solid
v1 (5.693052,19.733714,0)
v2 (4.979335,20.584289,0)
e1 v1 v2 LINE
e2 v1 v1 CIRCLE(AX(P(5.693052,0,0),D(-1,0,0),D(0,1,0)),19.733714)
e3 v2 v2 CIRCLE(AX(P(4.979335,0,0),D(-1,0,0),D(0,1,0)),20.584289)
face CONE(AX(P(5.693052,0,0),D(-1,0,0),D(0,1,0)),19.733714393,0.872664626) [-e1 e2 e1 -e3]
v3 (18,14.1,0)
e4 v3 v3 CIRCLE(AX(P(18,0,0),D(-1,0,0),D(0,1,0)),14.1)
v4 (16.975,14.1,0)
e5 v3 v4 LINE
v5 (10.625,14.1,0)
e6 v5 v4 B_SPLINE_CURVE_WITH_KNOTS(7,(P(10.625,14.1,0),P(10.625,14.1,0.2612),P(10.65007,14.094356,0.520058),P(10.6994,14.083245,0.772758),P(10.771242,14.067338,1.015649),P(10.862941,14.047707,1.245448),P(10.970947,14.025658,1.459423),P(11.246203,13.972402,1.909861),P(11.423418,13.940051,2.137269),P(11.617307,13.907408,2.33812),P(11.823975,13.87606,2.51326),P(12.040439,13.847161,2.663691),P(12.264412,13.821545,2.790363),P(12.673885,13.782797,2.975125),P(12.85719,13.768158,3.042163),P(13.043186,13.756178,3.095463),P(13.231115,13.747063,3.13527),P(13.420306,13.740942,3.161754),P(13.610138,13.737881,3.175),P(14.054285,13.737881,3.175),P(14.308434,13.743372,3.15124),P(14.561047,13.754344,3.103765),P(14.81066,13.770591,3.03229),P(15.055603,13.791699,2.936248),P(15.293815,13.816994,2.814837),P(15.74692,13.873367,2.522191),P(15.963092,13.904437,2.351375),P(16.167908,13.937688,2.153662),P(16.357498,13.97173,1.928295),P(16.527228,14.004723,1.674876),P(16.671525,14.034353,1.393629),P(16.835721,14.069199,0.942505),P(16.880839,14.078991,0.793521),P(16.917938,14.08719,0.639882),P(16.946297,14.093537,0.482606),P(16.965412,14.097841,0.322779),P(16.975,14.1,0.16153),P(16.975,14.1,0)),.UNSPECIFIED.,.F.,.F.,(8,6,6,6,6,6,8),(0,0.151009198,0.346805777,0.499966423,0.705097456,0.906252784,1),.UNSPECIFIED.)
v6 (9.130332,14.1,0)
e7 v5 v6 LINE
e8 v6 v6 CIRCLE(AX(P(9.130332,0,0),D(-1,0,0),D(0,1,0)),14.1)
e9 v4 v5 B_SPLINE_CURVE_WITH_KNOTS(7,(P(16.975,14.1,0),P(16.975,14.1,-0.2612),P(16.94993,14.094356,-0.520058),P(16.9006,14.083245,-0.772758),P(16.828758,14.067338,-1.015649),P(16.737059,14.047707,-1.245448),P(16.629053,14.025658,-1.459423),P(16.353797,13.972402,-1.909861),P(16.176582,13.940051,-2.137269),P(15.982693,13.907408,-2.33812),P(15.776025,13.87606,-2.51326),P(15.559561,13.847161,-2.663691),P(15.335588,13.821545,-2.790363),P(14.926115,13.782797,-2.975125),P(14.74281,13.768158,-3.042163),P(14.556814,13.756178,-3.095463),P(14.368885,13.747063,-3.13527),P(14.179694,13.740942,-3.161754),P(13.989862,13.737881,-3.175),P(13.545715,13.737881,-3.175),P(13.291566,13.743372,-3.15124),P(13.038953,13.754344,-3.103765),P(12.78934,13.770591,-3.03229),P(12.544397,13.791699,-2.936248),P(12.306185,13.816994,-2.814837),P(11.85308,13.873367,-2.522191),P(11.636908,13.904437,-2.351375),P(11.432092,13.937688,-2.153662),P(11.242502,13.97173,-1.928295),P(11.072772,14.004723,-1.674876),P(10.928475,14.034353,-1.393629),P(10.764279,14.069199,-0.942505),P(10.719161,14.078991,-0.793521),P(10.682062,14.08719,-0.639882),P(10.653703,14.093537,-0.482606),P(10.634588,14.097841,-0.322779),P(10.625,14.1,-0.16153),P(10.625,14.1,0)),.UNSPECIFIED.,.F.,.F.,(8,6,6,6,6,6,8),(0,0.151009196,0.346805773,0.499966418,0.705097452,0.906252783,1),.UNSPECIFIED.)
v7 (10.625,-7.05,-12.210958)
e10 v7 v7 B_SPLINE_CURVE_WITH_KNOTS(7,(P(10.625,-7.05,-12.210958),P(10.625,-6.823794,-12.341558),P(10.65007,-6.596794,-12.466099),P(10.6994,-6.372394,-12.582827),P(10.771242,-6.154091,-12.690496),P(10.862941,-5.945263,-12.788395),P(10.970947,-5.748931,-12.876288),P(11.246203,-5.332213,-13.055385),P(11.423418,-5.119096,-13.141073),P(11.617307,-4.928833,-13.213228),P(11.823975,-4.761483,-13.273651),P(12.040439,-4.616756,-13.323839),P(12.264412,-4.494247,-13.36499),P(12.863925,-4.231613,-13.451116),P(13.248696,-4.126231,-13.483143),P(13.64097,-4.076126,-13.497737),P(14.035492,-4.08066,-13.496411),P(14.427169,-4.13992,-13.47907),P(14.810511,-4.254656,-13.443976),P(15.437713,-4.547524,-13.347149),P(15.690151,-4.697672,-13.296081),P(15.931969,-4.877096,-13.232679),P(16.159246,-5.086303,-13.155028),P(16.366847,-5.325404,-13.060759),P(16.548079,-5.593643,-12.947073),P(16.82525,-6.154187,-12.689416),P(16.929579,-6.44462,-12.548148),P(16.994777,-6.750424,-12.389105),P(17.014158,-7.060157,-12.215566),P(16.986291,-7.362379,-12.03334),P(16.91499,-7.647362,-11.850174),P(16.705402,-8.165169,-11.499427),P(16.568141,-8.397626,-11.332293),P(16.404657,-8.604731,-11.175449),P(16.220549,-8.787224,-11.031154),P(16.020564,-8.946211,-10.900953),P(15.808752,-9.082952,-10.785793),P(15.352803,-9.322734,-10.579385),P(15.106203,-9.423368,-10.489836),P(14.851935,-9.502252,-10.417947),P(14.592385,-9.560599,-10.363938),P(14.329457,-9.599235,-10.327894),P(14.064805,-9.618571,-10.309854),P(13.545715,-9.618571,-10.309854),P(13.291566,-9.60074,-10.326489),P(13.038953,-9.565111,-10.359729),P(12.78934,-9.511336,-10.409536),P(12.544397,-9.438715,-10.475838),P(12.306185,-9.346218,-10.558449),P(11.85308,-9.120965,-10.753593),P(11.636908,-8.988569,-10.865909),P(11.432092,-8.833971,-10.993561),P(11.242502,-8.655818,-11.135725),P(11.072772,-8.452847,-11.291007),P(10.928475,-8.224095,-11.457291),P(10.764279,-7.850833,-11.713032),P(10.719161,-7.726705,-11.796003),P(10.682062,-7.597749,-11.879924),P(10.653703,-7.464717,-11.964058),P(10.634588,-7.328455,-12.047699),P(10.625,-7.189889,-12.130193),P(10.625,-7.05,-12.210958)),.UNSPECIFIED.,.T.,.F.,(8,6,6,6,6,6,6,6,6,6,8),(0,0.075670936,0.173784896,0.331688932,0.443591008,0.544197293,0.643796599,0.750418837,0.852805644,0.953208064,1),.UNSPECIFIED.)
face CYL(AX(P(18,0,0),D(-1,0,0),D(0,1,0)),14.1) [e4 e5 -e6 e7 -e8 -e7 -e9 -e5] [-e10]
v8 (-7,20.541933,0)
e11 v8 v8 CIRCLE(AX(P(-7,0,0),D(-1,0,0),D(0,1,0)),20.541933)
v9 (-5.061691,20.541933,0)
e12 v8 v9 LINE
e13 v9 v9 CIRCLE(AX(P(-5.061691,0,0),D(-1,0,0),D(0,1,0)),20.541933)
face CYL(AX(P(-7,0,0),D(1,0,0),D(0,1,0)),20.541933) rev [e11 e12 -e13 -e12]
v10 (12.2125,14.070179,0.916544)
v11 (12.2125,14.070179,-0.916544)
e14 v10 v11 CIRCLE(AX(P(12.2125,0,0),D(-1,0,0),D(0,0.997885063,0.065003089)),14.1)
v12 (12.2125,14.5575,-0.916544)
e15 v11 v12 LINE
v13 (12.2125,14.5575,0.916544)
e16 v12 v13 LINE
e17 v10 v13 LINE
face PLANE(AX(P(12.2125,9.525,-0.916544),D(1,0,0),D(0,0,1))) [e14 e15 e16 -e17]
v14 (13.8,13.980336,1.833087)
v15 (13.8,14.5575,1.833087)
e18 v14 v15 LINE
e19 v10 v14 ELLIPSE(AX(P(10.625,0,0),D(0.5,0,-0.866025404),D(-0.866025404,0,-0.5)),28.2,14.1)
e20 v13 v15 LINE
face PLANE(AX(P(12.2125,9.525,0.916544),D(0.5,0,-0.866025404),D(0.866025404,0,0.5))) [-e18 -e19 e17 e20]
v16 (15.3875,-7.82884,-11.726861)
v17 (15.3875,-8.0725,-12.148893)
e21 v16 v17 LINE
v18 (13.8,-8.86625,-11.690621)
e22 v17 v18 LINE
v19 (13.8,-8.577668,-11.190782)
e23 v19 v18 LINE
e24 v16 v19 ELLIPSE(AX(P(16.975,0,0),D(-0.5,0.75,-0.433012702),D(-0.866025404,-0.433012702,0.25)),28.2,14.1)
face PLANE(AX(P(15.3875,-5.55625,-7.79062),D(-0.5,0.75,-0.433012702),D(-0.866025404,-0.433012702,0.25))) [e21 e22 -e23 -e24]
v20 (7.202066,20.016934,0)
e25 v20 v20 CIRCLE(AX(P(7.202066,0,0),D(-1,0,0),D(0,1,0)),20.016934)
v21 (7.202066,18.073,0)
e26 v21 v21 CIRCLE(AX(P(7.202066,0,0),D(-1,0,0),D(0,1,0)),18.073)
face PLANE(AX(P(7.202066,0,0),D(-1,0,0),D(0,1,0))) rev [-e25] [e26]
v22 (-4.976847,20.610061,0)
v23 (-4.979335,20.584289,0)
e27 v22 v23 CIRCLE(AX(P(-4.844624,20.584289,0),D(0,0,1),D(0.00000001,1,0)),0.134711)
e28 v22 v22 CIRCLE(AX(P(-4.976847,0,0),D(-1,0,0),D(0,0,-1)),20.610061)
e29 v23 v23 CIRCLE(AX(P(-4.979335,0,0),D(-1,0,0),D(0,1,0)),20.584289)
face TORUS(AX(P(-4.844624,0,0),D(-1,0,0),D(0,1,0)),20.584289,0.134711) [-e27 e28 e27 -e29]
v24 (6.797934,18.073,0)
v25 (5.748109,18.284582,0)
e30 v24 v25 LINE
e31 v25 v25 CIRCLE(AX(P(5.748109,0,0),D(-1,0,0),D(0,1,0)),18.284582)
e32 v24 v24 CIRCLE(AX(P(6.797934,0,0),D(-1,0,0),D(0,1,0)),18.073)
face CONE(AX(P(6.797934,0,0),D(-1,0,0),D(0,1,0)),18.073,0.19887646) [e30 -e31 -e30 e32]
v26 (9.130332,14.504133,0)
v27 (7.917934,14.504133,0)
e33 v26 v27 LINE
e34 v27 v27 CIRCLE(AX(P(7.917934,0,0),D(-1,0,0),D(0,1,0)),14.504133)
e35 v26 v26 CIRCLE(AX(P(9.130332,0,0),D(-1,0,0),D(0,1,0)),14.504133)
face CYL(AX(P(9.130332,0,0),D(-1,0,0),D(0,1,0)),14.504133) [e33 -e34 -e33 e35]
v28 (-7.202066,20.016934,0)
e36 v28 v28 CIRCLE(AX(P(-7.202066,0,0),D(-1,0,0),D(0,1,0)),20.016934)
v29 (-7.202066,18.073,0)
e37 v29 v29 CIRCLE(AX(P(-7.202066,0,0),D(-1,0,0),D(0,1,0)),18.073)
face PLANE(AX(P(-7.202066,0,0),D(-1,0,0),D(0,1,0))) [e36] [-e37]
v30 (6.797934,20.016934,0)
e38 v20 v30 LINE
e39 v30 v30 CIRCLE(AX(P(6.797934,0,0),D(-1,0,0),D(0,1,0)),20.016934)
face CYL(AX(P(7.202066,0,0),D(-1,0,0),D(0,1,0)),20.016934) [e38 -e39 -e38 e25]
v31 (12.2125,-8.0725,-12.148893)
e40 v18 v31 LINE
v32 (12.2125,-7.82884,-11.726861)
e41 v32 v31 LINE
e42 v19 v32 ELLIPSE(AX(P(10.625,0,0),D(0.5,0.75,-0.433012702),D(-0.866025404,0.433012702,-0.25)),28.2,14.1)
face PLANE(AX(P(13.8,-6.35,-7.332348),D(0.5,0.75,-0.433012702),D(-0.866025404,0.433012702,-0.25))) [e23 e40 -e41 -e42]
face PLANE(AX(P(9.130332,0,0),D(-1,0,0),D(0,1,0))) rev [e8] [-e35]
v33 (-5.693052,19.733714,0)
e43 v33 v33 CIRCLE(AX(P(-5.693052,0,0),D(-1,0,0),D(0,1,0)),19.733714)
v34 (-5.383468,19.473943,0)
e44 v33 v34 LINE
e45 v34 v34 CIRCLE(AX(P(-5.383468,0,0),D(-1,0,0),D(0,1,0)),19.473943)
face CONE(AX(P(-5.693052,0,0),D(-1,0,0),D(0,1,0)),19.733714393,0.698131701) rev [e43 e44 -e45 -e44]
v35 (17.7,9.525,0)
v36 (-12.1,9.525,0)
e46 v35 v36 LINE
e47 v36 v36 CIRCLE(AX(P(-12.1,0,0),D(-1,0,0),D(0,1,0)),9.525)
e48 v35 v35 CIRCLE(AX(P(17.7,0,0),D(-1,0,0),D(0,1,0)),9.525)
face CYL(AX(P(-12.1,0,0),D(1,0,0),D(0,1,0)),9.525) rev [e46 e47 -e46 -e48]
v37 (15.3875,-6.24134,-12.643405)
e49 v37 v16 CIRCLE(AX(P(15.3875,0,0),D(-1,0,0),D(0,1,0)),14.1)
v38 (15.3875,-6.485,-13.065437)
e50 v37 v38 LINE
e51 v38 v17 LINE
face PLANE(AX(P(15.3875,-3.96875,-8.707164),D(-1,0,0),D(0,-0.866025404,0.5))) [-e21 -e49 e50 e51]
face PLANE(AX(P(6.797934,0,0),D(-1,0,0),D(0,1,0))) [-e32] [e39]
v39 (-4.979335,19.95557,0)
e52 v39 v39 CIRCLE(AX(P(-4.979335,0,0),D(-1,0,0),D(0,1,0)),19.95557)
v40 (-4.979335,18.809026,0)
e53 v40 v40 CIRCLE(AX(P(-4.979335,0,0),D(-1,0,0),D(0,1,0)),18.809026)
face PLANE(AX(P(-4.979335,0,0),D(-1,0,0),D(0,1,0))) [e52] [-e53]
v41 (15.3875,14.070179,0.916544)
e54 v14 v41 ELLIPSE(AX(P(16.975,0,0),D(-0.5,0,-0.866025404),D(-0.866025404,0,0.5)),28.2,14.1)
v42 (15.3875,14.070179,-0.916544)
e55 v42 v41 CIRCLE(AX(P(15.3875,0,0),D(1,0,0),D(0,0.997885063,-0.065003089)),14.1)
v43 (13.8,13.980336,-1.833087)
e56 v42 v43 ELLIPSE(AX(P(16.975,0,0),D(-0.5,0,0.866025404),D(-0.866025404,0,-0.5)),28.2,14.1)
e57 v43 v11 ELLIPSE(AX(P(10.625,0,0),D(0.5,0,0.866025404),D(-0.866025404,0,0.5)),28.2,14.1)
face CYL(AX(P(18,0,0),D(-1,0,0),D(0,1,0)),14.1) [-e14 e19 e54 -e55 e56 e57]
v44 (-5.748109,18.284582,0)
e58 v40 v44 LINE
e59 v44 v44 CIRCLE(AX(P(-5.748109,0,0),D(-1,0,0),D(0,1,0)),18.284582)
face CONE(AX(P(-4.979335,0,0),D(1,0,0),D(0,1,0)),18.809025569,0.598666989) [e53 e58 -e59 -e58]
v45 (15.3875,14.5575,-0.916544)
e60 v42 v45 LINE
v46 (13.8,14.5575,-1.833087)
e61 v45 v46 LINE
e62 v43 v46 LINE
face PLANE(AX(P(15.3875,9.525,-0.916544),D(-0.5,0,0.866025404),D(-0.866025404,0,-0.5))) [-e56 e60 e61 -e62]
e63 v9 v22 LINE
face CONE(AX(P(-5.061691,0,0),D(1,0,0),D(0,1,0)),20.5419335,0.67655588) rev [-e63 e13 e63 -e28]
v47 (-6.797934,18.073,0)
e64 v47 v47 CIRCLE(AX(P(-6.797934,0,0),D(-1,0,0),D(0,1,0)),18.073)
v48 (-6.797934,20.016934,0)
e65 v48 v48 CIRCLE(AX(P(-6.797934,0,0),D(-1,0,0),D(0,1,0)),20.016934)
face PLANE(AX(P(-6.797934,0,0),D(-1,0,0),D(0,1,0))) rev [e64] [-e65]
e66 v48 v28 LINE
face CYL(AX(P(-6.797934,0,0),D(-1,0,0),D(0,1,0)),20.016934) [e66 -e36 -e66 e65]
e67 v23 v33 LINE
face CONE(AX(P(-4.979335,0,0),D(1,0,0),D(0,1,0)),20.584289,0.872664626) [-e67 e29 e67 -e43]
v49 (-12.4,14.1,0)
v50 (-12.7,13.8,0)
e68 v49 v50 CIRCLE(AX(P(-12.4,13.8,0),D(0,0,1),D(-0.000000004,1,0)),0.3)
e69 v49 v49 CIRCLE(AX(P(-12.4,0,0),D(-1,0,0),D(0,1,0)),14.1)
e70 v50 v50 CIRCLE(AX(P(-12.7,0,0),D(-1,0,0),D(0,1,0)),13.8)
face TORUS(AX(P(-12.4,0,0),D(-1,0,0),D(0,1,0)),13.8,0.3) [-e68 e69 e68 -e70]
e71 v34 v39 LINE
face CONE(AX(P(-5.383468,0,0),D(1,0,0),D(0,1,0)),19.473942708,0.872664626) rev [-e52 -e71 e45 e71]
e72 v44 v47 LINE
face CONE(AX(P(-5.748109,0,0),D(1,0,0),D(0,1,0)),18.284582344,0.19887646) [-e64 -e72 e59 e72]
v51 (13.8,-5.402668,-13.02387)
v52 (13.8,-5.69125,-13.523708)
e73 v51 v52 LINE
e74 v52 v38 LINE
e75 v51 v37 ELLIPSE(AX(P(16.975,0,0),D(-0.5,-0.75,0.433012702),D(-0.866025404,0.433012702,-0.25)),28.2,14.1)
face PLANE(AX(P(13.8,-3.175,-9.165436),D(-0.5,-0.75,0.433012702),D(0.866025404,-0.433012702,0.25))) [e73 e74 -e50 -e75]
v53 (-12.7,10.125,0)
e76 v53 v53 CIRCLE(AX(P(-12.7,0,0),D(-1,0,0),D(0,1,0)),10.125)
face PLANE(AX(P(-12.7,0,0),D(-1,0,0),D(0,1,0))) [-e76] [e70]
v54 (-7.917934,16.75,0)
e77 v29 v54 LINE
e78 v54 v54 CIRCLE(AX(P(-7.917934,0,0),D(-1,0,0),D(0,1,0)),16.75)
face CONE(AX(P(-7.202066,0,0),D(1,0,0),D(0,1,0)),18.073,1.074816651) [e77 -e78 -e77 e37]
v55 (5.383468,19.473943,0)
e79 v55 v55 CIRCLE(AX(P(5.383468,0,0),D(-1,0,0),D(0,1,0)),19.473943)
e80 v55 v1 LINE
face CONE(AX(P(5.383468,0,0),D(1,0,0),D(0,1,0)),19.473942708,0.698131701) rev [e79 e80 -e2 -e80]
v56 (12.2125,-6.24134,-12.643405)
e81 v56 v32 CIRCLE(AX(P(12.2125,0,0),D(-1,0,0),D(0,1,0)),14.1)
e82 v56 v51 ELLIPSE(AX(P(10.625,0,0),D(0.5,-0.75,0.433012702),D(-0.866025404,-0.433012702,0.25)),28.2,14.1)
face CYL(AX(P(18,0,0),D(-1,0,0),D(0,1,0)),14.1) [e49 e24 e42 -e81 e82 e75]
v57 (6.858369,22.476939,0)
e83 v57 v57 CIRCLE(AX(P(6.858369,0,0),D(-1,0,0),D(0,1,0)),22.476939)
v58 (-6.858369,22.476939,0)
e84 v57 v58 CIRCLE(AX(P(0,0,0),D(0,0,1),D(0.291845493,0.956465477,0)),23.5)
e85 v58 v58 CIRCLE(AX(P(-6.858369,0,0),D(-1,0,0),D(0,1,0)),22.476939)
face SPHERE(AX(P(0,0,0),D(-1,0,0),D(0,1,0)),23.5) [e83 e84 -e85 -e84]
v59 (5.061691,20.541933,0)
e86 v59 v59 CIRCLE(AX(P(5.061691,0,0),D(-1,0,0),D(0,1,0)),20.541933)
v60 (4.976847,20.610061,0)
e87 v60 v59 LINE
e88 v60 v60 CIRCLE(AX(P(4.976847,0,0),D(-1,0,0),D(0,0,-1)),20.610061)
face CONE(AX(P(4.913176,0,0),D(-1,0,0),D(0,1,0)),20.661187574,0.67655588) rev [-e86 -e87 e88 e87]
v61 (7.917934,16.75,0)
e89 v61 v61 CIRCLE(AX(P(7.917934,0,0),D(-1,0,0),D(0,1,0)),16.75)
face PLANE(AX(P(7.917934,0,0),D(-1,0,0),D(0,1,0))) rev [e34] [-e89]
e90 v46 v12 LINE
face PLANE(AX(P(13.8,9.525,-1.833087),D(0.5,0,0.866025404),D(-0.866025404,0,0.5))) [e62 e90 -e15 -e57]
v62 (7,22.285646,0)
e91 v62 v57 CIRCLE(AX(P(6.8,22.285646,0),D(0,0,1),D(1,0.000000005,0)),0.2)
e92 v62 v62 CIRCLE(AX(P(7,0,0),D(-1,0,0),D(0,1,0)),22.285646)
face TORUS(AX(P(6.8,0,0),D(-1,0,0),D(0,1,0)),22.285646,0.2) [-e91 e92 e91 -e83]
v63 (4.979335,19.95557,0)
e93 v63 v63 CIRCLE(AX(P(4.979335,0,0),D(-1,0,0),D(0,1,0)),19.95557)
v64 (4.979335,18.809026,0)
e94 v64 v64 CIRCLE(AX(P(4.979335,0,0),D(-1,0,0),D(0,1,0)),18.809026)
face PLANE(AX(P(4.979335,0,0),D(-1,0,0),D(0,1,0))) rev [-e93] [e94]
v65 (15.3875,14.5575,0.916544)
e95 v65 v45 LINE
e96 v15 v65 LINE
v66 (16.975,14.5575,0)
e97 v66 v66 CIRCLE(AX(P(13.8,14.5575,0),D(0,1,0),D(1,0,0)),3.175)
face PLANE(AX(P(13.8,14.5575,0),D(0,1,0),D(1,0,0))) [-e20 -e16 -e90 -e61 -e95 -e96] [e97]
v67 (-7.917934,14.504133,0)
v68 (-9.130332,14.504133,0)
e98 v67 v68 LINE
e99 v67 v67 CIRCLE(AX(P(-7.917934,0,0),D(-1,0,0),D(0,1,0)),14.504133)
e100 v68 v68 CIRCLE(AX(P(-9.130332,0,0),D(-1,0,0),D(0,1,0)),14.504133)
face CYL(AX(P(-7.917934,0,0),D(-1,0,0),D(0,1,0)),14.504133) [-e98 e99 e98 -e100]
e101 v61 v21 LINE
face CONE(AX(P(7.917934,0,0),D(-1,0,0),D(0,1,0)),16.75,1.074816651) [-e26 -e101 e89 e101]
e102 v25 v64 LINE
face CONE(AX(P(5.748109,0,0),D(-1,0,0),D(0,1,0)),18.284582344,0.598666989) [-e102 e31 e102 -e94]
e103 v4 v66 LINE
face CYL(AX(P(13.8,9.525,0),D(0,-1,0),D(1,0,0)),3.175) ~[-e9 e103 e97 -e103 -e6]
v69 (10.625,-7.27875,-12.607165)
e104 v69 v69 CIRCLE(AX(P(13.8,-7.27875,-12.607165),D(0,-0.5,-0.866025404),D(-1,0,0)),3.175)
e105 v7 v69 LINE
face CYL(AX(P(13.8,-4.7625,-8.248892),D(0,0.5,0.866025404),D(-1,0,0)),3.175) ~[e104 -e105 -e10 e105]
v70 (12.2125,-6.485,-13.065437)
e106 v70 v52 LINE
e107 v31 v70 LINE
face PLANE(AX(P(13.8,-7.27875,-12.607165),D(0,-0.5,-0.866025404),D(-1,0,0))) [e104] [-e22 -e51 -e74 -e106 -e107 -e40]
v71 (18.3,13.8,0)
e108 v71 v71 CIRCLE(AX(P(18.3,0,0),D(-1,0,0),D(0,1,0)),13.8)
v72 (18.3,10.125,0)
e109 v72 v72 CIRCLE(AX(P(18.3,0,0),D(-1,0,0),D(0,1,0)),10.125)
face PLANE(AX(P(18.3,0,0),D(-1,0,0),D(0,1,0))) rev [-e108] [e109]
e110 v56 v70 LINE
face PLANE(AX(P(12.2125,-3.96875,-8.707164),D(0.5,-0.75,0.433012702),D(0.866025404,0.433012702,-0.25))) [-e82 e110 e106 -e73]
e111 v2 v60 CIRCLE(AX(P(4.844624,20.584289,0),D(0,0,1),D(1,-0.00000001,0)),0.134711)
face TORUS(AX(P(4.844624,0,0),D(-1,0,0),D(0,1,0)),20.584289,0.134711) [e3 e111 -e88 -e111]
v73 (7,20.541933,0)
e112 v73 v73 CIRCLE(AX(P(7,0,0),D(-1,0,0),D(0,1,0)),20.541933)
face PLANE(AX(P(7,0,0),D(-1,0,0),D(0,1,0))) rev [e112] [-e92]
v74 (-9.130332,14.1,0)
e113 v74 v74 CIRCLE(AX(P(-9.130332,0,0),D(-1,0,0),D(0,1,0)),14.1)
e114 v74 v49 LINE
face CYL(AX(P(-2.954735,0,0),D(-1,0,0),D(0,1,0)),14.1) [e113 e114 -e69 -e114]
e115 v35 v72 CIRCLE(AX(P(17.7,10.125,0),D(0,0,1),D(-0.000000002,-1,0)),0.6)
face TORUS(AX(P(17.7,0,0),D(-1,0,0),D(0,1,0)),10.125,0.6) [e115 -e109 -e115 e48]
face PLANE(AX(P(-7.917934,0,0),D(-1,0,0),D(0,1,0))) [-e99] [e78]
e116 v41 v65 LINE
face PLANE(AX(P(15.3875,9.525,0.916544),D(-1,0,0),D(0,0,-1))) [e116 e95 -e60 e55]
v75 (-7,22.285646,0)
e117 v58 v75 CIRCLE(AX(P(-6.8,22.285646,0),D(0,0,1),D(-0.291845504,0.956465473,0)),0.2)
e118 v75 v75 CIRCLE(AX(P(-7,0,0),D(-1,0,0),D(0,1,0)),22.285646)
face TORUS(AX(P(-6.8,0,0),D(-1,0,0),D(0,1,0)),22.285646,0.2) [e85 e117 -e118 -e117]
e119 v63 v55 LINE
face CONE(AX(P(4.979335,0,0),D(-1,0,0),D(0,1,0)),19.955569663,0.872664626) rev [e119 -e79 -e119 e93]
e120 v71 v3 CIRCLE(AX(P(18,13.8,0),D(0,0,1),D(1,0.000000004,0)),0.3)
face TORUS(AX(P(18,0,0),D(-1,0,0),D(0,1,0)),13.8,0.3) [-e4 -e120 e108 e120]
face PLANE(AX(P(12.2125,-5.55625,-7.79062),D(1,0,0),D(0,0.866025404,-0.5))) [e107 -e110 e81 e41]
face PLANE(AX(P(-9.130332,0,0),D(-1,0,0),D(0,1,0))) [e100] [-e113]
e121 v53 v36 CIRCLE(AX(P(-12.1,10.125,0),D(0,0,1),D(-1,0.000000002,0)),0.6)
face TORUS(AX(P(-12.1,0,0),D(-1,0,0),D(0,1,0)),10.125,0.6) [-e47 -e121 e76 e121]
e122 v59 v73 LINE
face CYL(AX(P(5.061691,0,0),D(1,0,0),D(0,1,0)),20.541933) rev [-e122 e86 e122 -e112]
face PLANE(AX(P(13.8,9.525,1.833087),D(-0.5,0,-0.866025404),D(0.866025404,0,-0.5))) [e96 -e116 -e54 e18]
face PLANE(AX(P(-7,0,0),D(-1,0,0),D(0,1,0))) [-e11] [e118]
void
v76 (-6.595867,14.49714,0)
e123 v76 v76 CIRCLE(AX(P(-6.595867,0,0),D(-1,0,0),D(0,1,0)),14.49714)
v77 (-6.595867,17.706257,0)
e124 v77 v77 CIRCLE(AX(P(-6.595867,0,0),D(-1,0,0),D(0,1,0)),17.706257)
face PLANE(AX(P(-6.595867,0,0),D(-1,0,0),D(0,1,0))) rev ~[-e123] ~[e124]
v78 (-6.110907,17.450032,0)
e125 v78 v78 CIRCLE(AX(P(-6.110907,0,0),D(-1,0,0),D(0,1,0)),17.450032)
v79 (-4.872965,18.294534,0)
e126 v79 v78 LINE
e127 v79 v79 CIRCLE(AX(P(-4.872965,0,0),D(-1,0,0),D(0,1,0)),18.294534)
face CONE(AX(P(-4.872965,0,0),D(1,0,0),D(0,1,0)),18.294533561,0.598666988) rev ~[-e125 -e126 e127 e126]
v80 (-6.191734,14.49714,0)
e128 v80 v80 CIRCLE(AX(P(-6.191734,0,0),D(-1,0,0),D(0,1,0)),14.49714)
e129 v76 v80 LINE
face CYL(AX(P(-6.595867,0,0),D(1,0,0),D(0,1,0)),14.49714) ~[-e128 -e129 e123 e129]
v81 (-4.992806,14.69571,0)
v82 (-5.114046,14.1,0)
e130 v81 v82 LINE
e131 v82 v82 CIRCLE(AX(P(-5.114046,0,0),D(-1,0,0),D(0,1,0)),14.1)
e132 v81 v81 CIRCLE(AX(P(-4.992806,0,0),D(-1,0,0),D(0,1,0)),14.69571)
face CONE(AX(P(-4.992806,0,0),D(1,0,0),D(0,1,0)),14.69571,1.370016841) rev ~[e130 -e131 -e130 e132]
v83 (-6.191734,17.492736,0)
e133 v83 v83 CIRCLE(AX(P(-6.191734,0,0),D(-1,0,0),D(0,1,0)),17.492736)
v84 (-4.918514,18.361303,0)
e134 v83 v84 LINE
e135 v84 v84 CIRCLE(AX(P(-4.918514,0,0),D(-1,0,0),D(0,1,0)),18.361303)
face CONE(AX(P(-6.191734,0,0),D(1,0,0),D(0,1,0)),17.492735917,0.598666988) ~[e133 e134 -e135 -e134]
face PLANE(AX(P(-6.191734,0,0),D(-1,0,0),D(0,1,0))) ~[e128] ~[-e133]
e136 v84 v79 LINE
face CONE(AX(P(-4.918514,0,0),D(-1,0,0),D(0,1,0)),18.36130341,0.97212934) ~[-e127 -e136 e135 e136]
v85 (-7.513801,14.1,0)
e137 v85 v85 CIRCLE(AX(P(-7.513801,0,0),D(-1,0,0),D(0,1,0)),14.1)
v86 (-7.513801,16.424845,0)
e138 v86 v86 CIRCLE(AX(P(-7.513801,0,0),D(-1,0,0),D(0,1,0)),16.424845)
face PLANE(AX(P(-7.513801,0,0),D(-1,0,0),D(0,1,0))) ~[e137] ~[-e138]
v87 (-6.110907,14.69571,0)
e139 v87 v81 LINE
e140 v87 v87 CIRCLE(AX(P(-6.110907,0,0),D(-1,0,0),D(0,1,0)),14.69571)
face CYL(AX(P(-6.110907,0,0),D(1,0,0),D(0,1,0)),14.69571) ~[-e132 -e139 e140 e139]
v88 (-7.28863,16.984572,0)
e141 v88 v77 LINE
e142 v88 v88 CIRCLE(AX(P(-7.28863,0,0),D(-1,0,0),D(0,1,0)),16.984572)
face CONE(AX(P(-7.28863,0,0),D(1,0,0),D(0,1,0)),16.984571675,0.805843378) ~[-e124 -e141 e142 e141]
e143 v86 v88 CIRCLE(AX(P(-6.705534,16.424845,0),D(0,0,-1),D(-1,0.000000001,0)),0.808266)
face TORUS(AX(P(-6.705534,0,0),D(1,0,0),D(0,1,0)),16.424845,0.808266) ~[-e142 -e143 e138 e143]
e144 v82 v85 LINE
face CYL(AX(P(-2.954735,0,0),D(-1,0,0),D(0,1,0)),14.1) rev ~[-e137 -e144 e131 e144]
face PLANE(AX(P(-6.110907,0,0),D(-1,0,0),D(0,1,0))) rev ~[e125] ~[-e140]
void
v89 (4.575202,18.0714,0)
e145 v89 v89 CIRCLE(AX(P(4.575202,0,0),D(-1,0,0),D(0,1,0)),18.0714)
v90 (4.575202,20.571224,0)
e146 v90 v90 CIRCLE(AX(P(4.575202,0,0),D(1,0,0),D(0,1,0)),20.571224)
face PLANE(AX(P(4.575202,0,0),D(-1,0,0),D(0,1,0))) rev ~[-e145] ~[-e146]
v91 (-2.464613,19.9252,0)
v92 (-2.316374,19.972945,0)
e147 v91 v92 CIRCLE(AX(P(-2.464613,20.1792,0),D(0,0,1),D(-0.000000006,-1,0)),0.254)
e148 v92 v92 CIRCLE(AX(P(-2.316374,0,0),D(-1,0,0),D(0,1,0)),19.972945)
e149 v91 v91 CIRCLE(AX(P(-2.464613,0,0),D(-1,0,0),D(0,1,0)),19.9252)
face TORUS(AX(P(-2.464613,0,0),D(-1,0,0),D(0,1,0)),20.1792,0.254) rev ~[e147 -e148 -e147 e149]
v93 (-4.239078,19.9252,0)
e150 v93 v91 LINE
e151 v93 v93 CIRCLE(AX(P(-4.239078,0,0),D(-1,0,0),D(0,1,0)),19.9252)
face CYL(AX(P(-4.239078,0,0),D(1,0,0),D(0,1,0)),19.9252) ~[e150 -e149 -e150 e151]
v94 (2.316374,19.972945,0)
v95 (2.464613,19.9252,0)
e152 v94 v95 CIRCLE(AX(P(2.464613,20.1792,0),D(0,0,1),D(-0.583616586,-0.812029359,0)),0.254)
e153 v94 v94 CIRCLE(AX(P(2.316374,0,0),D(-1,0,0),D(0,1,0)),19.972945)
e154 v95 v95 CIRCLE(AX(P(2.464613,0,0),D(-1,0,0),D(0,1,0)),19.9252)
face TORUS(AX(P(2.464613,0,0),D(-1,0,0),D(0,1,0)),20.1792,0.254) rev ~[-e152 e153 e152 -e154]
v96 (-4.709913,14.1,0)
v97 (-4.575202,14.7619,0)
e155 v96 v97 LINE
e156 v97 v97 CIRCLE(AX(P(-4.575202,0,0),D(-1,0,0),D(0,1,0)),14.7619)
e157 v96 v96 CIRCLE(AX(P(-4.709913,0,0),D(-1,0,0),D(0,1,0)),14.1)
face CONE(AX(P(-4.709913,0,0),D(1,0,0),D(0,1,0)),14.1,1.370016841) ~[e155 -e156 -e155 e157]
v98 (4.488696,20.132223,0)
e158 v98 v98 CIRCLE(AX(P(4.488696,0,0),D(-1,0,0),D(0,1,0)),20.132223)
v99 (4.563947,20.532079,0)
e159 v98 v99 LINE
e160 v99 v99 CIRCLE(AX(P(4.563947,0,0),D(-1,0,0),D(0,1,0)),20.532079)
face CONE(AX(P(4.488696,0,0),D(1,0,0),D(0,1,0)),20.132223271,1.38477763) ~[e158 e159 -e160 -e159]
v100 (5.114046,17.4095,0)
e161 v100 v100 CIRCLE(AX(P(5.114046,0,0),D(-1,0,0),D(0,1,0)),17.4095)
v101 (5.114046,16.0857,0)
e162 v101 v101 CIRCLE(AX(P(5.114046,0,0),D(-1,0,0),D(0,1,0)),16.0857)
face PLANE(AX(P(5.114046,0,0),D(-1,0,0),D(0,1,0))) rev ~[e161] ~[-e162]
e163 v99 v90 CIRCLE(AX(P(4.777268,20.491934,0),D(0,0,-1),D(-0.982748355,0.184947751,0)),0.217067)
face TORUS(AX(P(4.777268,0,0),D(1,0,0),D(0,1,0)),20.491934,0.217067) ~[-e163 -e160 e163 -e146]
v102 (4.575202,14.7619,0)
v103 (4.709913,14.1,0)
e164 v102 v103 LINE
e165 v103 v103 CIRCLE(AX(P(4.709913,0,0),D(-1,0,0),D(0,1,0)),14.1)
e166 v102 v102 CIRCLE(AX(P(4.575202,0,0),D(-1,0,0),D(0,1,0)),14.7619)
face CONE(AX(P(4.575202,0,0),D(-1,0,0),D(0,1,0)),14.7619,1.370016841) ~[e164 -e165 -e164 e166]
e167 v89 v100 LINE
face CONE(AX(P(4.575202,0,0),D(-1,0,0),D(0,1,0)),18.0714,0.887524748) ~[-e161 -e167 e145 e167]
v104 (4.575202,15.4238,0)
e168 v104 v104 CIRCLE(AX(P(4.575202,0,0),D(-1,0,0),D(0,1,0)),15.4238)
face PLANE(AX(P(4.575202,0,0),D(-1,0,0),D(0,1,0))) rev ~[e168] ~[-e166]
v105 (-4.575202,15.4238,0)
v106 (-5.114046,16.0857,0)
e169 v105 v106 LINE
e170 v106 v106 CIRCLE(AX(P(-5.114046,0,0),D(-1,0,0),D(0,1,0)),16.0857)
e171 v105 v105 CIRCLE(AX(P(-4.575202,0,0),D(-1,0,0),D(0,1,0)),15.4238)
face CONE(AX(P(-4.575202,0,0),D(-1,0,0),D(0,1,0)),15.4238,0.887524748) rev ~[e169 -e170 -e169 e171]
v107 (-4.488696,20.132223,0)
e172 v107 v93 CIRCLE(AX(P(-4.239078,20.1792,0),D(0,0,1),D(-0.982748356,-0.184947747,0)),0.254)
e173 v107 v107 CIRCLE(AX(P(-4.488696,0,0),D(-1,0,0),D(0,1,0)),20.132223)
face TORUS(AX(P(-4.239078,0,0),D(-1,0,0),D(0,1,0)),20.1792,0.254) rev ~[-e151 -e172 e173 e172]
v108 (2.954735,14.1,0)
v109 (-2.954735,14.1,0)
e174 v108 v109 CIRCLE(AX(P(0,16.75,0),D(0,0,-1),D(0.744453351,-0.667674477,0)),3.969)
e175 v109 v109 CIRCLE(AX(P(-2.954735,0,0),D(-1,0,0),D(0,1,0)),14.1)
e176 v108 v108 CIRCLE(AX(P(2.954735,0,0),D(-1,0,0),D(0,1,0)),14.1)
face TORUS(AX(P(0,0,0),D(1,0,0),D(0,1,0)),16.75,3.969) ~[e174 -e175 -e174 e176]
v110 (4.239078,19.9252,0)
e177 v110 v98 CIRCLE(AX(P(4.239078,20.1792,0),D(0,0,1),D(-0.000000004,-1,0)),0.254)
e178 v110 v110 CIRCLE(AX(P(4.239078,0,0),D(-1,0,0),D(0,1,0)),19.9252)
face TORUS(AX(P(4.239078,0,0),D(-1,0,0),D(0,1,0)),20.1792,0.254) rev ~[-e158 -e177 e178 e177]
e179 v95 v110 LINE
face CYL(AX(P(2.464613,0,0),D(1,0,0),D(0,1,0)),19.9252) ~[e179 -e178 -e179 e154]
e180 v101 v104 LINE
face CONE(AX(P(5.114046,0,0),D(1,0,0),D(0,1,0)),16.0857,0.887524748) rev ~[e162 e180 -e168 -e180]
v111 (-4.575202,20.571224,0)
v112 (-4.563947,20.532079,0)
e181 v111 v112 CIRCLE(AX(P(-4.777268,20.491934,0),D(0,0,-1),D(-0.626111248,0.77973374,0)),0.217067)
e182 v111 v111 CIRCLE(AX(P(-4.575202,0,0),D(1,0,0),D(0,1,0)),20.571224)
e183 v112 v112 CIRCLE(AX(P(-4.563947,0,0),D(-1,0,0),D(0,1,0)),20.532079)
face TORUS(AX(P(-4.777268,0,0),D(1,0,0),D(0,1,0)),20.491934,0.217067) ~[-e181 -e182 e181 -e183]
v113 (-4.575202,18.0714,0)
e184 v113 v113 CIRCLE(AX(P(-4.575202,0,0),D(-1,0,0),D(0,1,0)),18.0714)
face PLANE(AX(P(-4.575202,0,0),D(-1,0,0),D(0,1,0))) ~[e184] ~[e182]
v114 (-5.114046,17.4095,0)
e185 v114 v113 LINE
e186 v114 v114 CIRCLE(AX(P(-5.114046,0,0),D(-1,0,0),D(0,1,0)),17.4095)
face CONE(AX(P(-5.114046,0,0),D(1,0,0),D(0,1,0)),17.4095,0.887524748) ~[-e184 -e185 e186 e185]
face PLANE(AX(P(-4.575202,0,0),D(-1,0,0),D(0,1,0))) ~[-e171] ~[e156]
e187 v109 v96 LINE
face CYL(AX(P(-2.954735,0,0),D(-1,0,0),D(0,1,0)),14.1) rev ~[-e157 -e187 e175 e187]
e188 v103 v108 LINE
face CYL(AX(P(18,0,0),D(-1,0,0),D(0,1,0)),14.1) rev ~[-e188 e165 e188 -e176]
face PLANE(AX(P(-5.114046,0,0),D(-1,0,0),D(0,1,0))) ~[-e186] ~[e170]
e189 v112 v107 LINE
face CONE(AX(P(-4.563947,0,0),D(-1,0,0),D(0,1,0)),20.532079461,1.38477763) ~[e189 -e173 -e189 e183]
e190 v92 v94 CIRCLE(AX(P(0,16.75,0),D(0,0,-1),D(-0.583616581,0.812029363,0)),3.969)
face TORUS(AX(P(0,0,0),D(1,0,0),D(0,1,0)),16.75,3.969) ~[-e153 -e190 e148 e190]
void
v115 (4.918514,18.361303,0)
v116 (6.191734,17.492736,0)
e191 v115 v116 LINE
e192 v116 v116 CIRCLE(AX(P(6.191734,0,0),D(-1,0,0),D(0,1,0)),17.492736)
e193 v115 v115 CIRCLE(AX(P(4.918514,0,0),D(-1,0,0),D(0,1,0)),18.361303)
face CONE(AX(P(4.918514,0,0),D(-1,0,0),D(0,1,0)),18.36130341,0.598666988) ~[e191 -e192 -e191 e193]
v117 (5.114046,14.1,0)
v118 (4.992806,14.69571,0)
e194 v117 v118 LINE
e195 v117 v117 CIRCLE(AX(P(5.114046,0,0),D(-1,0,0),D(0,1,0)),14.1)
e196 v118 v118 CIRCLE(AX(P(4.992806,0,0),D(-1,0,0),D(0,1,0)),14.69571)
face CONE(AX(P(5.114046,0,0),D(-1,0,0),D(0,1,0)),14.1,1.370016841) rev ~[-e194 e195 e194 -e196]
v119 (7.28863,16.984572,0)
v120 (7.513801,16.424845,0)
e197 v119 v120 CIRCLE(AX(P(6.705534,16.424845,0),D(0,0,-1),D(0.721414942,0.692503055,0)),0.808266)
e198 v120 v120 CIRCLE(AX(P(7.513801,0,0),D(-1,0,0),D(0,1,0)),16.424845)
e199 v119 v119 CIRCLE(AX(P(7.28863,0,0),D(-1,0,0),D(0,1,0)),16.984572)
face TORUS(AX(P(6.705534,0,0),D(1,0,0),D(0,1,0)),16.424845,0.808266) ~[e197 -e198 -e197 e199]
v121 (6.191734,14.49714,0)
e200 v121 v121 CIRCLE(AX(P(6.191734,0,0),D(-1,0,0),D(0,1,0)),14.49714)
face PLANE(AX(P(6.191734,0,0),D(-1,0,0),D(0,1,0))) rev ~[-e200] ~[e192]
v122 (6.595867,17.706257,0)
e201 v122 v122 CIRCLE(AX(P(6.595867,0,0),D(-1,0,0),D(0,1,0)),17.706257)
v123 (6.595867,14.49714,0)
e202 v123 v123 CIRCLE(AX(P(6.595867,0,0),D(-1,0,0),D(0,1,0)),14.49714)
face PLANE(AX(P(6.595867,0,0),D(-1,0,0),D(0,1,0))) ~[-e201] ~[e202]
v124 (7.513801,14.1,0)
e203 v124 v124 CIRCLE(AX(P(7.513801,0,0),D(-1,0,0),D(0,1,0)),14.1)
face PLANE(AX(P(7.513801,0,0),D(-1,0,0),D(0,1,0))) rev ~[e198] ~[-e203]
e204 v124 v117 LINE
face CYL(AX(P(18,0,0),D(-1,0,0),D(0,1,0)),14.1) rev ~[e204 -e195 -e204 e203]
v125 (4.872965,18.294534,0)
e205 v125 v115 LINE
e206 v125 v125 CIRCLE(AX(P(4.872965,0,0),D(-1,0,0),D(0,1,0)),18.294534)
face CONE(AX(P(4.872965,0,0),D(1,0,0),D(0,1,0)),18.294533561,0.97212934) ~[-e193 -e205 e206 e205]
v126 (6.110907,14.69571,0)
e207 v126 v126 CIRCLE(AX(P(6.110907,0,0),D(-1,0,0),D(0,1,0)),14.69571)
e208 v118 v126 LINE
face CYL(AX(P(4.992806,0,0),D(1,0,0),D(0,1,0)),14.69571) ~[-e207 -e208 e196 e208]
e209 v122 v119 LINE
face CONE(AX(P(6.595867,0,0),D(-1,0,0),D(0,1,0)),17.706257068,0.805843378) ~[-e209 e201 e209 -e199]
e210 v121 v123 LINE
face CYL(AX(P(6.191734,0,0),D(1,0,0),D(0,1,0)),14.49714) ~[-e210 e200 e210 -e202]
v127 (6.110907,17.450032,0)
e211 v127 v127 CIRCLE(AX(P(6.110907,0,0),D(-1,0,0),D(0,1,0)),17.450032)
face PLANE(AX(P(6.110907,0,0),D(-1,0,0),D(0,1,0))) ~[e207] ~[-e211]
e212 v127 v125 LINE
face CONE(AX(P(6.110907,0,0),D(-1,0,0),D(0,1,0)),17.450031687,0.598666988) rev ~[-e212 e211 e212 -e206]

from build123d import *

# Parameters (mm, degrees)
CROQUIS2_R              = 3.175
SALIENTE_EXTRUIR1_DEPTH = 5.0325
CROQUIS3_R              = 3.175
SALIENTE_EXTRUIR2_DEPTH = 5.0325


with BuildPart() as part:
    # Croquis1 → Revolución1 (revolve)
    with BuildSketch(Plane.XY):
        with BuildLine():
            Line((-12.7, 13.8), (-12.7, 10.125))
            ThreePointArc((-12.7, 10.125), (-12.524264069, 9.700735931), (-12.1, 9.525))
            Line((-12.1, 9.525), (17.7, 9.525))
            ThreePointArc((17.7, 9.525), (18.124264069, 9.700735931), (18.3, 10.125))
            Line((18.3, 10.125), (18.3, 13.8))
            ThreePointArc((18.3, 13.8), (18.212132034, 14.012132034), (18, 14.1))
            Line((18, 14.1), (2.954735352, 14.1))
            ThreePointArc((2.954735352, 14.1), (0, 12.781), (-2.954735352, 14.1))
            Line((-2.954735352, 14.1), (-12.4, 14.1))
            ThreePointArc((-12.4, 14.1), (-12.612132034, 14.012132034), (-12.7, 13.8))
        make_face()
    revolve(axis=Axis((50, 0, 0), (-1, 0, 0)))

    # Croquis2 → Saliente-Extruir1 (add)
    with BuildSketch(Plane(origin=(0, 9.525, 0), x_dir=(1, 0, 0), z_dir=(0, 1, 0))):
        with Locations((13.8, 0)):
            Circle(CROQUIS2_R)
        Polygon((12.2125, -0.916543552), (13.8, -1.833087105), (15.3875, -0.916543552), (15.3875, 0.916543552), (13.8, 1.833087105), (12.2125, 0.916543552), align=None, mode=Mode.SUBTRACT)
    extrude(amount=SALIENTE_EXTRUIR1_DEPTH)

    # Croquis3 → Saliente-Extruir2 (add)
    with BuildSketch(Plane(origin=(0, -4.7625, -8.248891971), x_dir=(-1, 0, 0), z_dir=(0, -0.5, -0.866025404))):
        with Locations((-13.8, 0)):
            Circle(CROQUIS3_R)
        Polygon((-12.2125, 0.916543552), (-13.8, 1.833087105), (-15.3875, 0.916543552), (-15.3875, -0.916543552), (-13.8, -1.833087105), (-12.2125, -0.916543552), align=None, mode=Mode.SUBTRACT)
    extrude(amount=SALIENTE_EXTRUIR2_DEPTH)

    # Croquis4 → Revolución2 (revolve)
    with BuildSketch(Plane.XY):
        with BuildLine():
            Line((4.575202, 20.584289), (4.575202, 18.0714))
            Line((4.575202, 18.0714), (5.114046, 17.4095))
            Line((5.114046, 17.4095), (5.114046, 16.0857))
            Line((5.114046, 16.0857), (4.575202, 15.4238))
            Line((4.575202, 15.4238), (4.575202, 14.7619))
            Line((4.575202, 14.7619), (4.709913, 14.1))
            Line((4.709913, 14.1), (5.114046, 14.1))
            Line((5.114046, 14.1), (4.9928061, 14.69571))
            Line((4.9928061, 14.69571), (6.1109074, 14.69571))
            Line((6.1109074, 14.69571), (6.1109074, 17.450031687))
            Line((6.1109074, 17.450031687), (4.87296462, 18.294533561))
            Line((4.87296462, 18.294533561), (4.918513787, 18.36130341))
            Line((4.918513787, 18.36130341), (6.191734, 17.492735917))
            Line((6.191734, 17.492735917), (6.191734, 14.49714))
            Line((6.191734, 14.49714), (6.595867, 14.49714))
            Line((6.595867, 14.49714), (6.595867, 17.706257068))
            Line((6.595867, 17.706257068), (7.288629669, 16.984571675))
            ThreePointArc((7.288629669, 16.984571675), (7.455397796, 16.726505345), (7.5138005, 16.424845))
            Line((7.5138005, 16.424845), (7.5138005, 14.1))
            Line((7.5138005, 14.1), (9.1303325, 14.1))
            Line((9.1303325, 14.1), (9.1303325, 14.504133))
            Line((9.1303325, 14.504133), (7.9179335, 14.504133))
            Line((7.9179335, 14.504133), (7.9179335, 16.75))
            Line((7.9179335, 16.75), (7.2020665, 18.073))
            Line((7.2020665, 18.073), (7.2020665, 20.0169335))
            Line((7.2020665, 20.0169335), (6.7979335, 20.0169335))
            Line((6.7979335, 20.0169335), (6.7979335, 18.073))
            Line((6.7979335, 18.073), (5.748108549, 18.284582344))
            Line((5.748108549, 18.284582344), (4.979335, 18.809025569))
            Line((4.979335, 18.809025569), (4.979335, 19.955569663))
            Line((4.979335, 19.955569663), (5.383468, 19.473942708))
            Line((5.383468, 19.473942708), (5.693051839, 19.733714393))
            Line((5.693051839, 19.733714393), (4.979335, 20.584289))
            ThreePointArc((4.979335, 20.584289), (4.939879062, 20.679544062), (4.844624, 20.719))
            Line((4.844624, 20.719), (4.709913, 20.719))
            ThreePointArc((4.709913, 20.719), (4.614657938, 20.679544062), (4.575202, 20.584289))
        make_face()
    revolve(axis=Axis((7, 0, 0), (-1, 0, 0)))

    # Croquis5 → Revolución3 (revolve)
    with BuildSketch(Plane.XY):
        with BuildLine():
            Line((-7, 20.5419335), (-5.0616905, 20.5419335))
            Line((-5.0616905, 20.5419335), (-4.913176277, 20.661187574))
            ThreePointArc((-4.913176277, 20.661187574), (-4.701999271, 20.695532146), (-4.563946754, 20.532079461))
            Line((-4.563946754, 20.532079461), (-4.488696052, 20.132223271))
            ThreePointArc((-4.488696052, 20.132223271), (-4.401225913, 19.983690295), (-4.23907797, 19.9252))
            Line((-4.23907797, 19.9252), (-2.464612822, 19.9252))
            ThreePointArc((-2.464612822, 19.9252), (-2.386743978, 19.937430599), (-2.31637421, 19.972944542))
            ThreePointArc((-2.31637421, 19.972944542), (0, 20.719), (2.31637421, 19.972944542))
            ThreePointArc((2.31637421, 19.972944542), (2.386743978, 19.937430599), (2.464612822, 19.9252))
            Line((2.464612822, 19.9252), (4.23907797, 19.9252))
            ThreePointArc((4.23907797, 19.9252), (4.401225913, 19.983690295), (4.488696052, 20.132223271))
            Line((4.488696052, 20.132223271), (4.563946754, 20.532079461))
            ThreePointArc((4.563946754, 20.532079461), (4.701999271, 20.695532146), (4.913176277, 20.661187574))
            Line((4.913176277, 20.661187574), (5.0616905, 20.5419335))
            Line((5.0616905, 20.5419335), (7, 20.5419335))
            Line((7, 20.5419335), (7, 22.285645604))
            ThreePointArc((7, 22.285645604), (6.960738638, 22.404654386), (6.858369099, 22.4769387))
            ThreePointArc((6.858369099, 22.4769387), (0, 23.5), (-6.858369099, 22.4769387))
            ThreePointArc((-6.858369099, 22.4769387), (-6.960738638, 22.404654386), (-7, 22.285645604))
            Line((-7, 22.285645604), (-7, 20.5419335))
        make_face()
    revolve(axis=Axis((7, 0, 0), (-1, 0, 0)))

    # Croquis6 → Revolución4 (revolve)
    with BuildSketch(Plane.XY):
        with BuildLine():
            Line((-9.1303325, 14.504133), (-9.1303325, 14.1))
            Line((-9.1303325, 14.1), (-7.5138005, 14.1))
            Line((-7.5138005, 14.1), (-7.5138005, 16.424845))
            ThreePointArc((-7.5138005, 16.424845), (-7.455397796, 16.726505345), (-7.288629669, 16.984571675))
            Line((-7.288629669, 16.984571675), (-6.595867, 17.706257068))
            Line((-6.595867, 17.706257068), (-6.595867, 14.49714))
            Line((-6.595867, 14.49714), (-6.191734, 14.49714))
            Line((-6.191734, 14.49714), (-6.191734, 17.492735917))
            Line((-6.191734, 17.492735917), (-4.918513787, 18.36130341))
            Line((-4.918513787, 18.36130341), (-4.87296462, 18.294533561))
            Line((-4.87296462, 18.294533561), (-6.1109074, 17.450031687))
            Line((-6.1109074, 17.450031687), (-6.1109074, 14.69571))
            Line((-6.1109074, 14.69571), (-4.9928061, 14.69571))
            Line((-4.9928061, 14.69571), (-5.114046, 14.1))
            Line((-5.114046, 14.1), (-4.709913, 14.1))
            Line((-4.709913, 14.1), (-4.575202, 14.7619))
            Line((-4.575202, 14.7619), (-4.575202, 15.4238))
            Line((-4.575202, 15.4238), (-5.114046, 16.0857))
            Line((-5.114046, 16.0857), (-5.114046, 17.4095))
            Line((-5.114046, 17.4095), (-4.575202, 18.0714))
            Line((-4.575202, 18.0714), (-4.575202, 20.584289))
            ThreePointArc((-4.575202, 20.584289), (-4.614657938, 20.679544062), (-4.709913, 20.719))
            Line((-4.709913, 20.719), (-4.844624, 20.719))
            ThreePointArc((-4.844624, 20.719), (-4.939879062, 20.679544062), (-4.979335, 20.584289))
            Line((-4.979335, 20.584289), (-5.693051839, 19.733714393))
            Line((-5.693051839, 19.733714393), (-5.383468, 19.473942708))
            Line((-5.383468, 19.473942708), (-4.979335, 19.955569663))
            Line((-4.979335, 19.955569663), (-4.979335, 18.809025569))
            Line((-4.979335, 18.809025569), (-5.748108549, 18.284582344))
            Line((-5.748108549, 18.284582344), (-6.7979335, 18.073))
            Line((-6.7979335, 18.073), (-6.7979335, 20.0169335))
            Line((-6.7979335, 20.0169335), (-7.2020665, 20.0169335))
            Line((-7.2020665, 20.0169335), (-7.2020665, 18.073))
            Line((-7.2020665, 18.073), (-7.9179335, 16.75))
            Line((-7.9179335, 16.75), (-7.9179335, 14.504133))
            Line((-7.9179335, 14.504133), (-9.1303325, 14.504133))
        make_face()
    revolve(axis=Axis((7, 0, 0), (-1, 0, 0)))


solid = part.part
